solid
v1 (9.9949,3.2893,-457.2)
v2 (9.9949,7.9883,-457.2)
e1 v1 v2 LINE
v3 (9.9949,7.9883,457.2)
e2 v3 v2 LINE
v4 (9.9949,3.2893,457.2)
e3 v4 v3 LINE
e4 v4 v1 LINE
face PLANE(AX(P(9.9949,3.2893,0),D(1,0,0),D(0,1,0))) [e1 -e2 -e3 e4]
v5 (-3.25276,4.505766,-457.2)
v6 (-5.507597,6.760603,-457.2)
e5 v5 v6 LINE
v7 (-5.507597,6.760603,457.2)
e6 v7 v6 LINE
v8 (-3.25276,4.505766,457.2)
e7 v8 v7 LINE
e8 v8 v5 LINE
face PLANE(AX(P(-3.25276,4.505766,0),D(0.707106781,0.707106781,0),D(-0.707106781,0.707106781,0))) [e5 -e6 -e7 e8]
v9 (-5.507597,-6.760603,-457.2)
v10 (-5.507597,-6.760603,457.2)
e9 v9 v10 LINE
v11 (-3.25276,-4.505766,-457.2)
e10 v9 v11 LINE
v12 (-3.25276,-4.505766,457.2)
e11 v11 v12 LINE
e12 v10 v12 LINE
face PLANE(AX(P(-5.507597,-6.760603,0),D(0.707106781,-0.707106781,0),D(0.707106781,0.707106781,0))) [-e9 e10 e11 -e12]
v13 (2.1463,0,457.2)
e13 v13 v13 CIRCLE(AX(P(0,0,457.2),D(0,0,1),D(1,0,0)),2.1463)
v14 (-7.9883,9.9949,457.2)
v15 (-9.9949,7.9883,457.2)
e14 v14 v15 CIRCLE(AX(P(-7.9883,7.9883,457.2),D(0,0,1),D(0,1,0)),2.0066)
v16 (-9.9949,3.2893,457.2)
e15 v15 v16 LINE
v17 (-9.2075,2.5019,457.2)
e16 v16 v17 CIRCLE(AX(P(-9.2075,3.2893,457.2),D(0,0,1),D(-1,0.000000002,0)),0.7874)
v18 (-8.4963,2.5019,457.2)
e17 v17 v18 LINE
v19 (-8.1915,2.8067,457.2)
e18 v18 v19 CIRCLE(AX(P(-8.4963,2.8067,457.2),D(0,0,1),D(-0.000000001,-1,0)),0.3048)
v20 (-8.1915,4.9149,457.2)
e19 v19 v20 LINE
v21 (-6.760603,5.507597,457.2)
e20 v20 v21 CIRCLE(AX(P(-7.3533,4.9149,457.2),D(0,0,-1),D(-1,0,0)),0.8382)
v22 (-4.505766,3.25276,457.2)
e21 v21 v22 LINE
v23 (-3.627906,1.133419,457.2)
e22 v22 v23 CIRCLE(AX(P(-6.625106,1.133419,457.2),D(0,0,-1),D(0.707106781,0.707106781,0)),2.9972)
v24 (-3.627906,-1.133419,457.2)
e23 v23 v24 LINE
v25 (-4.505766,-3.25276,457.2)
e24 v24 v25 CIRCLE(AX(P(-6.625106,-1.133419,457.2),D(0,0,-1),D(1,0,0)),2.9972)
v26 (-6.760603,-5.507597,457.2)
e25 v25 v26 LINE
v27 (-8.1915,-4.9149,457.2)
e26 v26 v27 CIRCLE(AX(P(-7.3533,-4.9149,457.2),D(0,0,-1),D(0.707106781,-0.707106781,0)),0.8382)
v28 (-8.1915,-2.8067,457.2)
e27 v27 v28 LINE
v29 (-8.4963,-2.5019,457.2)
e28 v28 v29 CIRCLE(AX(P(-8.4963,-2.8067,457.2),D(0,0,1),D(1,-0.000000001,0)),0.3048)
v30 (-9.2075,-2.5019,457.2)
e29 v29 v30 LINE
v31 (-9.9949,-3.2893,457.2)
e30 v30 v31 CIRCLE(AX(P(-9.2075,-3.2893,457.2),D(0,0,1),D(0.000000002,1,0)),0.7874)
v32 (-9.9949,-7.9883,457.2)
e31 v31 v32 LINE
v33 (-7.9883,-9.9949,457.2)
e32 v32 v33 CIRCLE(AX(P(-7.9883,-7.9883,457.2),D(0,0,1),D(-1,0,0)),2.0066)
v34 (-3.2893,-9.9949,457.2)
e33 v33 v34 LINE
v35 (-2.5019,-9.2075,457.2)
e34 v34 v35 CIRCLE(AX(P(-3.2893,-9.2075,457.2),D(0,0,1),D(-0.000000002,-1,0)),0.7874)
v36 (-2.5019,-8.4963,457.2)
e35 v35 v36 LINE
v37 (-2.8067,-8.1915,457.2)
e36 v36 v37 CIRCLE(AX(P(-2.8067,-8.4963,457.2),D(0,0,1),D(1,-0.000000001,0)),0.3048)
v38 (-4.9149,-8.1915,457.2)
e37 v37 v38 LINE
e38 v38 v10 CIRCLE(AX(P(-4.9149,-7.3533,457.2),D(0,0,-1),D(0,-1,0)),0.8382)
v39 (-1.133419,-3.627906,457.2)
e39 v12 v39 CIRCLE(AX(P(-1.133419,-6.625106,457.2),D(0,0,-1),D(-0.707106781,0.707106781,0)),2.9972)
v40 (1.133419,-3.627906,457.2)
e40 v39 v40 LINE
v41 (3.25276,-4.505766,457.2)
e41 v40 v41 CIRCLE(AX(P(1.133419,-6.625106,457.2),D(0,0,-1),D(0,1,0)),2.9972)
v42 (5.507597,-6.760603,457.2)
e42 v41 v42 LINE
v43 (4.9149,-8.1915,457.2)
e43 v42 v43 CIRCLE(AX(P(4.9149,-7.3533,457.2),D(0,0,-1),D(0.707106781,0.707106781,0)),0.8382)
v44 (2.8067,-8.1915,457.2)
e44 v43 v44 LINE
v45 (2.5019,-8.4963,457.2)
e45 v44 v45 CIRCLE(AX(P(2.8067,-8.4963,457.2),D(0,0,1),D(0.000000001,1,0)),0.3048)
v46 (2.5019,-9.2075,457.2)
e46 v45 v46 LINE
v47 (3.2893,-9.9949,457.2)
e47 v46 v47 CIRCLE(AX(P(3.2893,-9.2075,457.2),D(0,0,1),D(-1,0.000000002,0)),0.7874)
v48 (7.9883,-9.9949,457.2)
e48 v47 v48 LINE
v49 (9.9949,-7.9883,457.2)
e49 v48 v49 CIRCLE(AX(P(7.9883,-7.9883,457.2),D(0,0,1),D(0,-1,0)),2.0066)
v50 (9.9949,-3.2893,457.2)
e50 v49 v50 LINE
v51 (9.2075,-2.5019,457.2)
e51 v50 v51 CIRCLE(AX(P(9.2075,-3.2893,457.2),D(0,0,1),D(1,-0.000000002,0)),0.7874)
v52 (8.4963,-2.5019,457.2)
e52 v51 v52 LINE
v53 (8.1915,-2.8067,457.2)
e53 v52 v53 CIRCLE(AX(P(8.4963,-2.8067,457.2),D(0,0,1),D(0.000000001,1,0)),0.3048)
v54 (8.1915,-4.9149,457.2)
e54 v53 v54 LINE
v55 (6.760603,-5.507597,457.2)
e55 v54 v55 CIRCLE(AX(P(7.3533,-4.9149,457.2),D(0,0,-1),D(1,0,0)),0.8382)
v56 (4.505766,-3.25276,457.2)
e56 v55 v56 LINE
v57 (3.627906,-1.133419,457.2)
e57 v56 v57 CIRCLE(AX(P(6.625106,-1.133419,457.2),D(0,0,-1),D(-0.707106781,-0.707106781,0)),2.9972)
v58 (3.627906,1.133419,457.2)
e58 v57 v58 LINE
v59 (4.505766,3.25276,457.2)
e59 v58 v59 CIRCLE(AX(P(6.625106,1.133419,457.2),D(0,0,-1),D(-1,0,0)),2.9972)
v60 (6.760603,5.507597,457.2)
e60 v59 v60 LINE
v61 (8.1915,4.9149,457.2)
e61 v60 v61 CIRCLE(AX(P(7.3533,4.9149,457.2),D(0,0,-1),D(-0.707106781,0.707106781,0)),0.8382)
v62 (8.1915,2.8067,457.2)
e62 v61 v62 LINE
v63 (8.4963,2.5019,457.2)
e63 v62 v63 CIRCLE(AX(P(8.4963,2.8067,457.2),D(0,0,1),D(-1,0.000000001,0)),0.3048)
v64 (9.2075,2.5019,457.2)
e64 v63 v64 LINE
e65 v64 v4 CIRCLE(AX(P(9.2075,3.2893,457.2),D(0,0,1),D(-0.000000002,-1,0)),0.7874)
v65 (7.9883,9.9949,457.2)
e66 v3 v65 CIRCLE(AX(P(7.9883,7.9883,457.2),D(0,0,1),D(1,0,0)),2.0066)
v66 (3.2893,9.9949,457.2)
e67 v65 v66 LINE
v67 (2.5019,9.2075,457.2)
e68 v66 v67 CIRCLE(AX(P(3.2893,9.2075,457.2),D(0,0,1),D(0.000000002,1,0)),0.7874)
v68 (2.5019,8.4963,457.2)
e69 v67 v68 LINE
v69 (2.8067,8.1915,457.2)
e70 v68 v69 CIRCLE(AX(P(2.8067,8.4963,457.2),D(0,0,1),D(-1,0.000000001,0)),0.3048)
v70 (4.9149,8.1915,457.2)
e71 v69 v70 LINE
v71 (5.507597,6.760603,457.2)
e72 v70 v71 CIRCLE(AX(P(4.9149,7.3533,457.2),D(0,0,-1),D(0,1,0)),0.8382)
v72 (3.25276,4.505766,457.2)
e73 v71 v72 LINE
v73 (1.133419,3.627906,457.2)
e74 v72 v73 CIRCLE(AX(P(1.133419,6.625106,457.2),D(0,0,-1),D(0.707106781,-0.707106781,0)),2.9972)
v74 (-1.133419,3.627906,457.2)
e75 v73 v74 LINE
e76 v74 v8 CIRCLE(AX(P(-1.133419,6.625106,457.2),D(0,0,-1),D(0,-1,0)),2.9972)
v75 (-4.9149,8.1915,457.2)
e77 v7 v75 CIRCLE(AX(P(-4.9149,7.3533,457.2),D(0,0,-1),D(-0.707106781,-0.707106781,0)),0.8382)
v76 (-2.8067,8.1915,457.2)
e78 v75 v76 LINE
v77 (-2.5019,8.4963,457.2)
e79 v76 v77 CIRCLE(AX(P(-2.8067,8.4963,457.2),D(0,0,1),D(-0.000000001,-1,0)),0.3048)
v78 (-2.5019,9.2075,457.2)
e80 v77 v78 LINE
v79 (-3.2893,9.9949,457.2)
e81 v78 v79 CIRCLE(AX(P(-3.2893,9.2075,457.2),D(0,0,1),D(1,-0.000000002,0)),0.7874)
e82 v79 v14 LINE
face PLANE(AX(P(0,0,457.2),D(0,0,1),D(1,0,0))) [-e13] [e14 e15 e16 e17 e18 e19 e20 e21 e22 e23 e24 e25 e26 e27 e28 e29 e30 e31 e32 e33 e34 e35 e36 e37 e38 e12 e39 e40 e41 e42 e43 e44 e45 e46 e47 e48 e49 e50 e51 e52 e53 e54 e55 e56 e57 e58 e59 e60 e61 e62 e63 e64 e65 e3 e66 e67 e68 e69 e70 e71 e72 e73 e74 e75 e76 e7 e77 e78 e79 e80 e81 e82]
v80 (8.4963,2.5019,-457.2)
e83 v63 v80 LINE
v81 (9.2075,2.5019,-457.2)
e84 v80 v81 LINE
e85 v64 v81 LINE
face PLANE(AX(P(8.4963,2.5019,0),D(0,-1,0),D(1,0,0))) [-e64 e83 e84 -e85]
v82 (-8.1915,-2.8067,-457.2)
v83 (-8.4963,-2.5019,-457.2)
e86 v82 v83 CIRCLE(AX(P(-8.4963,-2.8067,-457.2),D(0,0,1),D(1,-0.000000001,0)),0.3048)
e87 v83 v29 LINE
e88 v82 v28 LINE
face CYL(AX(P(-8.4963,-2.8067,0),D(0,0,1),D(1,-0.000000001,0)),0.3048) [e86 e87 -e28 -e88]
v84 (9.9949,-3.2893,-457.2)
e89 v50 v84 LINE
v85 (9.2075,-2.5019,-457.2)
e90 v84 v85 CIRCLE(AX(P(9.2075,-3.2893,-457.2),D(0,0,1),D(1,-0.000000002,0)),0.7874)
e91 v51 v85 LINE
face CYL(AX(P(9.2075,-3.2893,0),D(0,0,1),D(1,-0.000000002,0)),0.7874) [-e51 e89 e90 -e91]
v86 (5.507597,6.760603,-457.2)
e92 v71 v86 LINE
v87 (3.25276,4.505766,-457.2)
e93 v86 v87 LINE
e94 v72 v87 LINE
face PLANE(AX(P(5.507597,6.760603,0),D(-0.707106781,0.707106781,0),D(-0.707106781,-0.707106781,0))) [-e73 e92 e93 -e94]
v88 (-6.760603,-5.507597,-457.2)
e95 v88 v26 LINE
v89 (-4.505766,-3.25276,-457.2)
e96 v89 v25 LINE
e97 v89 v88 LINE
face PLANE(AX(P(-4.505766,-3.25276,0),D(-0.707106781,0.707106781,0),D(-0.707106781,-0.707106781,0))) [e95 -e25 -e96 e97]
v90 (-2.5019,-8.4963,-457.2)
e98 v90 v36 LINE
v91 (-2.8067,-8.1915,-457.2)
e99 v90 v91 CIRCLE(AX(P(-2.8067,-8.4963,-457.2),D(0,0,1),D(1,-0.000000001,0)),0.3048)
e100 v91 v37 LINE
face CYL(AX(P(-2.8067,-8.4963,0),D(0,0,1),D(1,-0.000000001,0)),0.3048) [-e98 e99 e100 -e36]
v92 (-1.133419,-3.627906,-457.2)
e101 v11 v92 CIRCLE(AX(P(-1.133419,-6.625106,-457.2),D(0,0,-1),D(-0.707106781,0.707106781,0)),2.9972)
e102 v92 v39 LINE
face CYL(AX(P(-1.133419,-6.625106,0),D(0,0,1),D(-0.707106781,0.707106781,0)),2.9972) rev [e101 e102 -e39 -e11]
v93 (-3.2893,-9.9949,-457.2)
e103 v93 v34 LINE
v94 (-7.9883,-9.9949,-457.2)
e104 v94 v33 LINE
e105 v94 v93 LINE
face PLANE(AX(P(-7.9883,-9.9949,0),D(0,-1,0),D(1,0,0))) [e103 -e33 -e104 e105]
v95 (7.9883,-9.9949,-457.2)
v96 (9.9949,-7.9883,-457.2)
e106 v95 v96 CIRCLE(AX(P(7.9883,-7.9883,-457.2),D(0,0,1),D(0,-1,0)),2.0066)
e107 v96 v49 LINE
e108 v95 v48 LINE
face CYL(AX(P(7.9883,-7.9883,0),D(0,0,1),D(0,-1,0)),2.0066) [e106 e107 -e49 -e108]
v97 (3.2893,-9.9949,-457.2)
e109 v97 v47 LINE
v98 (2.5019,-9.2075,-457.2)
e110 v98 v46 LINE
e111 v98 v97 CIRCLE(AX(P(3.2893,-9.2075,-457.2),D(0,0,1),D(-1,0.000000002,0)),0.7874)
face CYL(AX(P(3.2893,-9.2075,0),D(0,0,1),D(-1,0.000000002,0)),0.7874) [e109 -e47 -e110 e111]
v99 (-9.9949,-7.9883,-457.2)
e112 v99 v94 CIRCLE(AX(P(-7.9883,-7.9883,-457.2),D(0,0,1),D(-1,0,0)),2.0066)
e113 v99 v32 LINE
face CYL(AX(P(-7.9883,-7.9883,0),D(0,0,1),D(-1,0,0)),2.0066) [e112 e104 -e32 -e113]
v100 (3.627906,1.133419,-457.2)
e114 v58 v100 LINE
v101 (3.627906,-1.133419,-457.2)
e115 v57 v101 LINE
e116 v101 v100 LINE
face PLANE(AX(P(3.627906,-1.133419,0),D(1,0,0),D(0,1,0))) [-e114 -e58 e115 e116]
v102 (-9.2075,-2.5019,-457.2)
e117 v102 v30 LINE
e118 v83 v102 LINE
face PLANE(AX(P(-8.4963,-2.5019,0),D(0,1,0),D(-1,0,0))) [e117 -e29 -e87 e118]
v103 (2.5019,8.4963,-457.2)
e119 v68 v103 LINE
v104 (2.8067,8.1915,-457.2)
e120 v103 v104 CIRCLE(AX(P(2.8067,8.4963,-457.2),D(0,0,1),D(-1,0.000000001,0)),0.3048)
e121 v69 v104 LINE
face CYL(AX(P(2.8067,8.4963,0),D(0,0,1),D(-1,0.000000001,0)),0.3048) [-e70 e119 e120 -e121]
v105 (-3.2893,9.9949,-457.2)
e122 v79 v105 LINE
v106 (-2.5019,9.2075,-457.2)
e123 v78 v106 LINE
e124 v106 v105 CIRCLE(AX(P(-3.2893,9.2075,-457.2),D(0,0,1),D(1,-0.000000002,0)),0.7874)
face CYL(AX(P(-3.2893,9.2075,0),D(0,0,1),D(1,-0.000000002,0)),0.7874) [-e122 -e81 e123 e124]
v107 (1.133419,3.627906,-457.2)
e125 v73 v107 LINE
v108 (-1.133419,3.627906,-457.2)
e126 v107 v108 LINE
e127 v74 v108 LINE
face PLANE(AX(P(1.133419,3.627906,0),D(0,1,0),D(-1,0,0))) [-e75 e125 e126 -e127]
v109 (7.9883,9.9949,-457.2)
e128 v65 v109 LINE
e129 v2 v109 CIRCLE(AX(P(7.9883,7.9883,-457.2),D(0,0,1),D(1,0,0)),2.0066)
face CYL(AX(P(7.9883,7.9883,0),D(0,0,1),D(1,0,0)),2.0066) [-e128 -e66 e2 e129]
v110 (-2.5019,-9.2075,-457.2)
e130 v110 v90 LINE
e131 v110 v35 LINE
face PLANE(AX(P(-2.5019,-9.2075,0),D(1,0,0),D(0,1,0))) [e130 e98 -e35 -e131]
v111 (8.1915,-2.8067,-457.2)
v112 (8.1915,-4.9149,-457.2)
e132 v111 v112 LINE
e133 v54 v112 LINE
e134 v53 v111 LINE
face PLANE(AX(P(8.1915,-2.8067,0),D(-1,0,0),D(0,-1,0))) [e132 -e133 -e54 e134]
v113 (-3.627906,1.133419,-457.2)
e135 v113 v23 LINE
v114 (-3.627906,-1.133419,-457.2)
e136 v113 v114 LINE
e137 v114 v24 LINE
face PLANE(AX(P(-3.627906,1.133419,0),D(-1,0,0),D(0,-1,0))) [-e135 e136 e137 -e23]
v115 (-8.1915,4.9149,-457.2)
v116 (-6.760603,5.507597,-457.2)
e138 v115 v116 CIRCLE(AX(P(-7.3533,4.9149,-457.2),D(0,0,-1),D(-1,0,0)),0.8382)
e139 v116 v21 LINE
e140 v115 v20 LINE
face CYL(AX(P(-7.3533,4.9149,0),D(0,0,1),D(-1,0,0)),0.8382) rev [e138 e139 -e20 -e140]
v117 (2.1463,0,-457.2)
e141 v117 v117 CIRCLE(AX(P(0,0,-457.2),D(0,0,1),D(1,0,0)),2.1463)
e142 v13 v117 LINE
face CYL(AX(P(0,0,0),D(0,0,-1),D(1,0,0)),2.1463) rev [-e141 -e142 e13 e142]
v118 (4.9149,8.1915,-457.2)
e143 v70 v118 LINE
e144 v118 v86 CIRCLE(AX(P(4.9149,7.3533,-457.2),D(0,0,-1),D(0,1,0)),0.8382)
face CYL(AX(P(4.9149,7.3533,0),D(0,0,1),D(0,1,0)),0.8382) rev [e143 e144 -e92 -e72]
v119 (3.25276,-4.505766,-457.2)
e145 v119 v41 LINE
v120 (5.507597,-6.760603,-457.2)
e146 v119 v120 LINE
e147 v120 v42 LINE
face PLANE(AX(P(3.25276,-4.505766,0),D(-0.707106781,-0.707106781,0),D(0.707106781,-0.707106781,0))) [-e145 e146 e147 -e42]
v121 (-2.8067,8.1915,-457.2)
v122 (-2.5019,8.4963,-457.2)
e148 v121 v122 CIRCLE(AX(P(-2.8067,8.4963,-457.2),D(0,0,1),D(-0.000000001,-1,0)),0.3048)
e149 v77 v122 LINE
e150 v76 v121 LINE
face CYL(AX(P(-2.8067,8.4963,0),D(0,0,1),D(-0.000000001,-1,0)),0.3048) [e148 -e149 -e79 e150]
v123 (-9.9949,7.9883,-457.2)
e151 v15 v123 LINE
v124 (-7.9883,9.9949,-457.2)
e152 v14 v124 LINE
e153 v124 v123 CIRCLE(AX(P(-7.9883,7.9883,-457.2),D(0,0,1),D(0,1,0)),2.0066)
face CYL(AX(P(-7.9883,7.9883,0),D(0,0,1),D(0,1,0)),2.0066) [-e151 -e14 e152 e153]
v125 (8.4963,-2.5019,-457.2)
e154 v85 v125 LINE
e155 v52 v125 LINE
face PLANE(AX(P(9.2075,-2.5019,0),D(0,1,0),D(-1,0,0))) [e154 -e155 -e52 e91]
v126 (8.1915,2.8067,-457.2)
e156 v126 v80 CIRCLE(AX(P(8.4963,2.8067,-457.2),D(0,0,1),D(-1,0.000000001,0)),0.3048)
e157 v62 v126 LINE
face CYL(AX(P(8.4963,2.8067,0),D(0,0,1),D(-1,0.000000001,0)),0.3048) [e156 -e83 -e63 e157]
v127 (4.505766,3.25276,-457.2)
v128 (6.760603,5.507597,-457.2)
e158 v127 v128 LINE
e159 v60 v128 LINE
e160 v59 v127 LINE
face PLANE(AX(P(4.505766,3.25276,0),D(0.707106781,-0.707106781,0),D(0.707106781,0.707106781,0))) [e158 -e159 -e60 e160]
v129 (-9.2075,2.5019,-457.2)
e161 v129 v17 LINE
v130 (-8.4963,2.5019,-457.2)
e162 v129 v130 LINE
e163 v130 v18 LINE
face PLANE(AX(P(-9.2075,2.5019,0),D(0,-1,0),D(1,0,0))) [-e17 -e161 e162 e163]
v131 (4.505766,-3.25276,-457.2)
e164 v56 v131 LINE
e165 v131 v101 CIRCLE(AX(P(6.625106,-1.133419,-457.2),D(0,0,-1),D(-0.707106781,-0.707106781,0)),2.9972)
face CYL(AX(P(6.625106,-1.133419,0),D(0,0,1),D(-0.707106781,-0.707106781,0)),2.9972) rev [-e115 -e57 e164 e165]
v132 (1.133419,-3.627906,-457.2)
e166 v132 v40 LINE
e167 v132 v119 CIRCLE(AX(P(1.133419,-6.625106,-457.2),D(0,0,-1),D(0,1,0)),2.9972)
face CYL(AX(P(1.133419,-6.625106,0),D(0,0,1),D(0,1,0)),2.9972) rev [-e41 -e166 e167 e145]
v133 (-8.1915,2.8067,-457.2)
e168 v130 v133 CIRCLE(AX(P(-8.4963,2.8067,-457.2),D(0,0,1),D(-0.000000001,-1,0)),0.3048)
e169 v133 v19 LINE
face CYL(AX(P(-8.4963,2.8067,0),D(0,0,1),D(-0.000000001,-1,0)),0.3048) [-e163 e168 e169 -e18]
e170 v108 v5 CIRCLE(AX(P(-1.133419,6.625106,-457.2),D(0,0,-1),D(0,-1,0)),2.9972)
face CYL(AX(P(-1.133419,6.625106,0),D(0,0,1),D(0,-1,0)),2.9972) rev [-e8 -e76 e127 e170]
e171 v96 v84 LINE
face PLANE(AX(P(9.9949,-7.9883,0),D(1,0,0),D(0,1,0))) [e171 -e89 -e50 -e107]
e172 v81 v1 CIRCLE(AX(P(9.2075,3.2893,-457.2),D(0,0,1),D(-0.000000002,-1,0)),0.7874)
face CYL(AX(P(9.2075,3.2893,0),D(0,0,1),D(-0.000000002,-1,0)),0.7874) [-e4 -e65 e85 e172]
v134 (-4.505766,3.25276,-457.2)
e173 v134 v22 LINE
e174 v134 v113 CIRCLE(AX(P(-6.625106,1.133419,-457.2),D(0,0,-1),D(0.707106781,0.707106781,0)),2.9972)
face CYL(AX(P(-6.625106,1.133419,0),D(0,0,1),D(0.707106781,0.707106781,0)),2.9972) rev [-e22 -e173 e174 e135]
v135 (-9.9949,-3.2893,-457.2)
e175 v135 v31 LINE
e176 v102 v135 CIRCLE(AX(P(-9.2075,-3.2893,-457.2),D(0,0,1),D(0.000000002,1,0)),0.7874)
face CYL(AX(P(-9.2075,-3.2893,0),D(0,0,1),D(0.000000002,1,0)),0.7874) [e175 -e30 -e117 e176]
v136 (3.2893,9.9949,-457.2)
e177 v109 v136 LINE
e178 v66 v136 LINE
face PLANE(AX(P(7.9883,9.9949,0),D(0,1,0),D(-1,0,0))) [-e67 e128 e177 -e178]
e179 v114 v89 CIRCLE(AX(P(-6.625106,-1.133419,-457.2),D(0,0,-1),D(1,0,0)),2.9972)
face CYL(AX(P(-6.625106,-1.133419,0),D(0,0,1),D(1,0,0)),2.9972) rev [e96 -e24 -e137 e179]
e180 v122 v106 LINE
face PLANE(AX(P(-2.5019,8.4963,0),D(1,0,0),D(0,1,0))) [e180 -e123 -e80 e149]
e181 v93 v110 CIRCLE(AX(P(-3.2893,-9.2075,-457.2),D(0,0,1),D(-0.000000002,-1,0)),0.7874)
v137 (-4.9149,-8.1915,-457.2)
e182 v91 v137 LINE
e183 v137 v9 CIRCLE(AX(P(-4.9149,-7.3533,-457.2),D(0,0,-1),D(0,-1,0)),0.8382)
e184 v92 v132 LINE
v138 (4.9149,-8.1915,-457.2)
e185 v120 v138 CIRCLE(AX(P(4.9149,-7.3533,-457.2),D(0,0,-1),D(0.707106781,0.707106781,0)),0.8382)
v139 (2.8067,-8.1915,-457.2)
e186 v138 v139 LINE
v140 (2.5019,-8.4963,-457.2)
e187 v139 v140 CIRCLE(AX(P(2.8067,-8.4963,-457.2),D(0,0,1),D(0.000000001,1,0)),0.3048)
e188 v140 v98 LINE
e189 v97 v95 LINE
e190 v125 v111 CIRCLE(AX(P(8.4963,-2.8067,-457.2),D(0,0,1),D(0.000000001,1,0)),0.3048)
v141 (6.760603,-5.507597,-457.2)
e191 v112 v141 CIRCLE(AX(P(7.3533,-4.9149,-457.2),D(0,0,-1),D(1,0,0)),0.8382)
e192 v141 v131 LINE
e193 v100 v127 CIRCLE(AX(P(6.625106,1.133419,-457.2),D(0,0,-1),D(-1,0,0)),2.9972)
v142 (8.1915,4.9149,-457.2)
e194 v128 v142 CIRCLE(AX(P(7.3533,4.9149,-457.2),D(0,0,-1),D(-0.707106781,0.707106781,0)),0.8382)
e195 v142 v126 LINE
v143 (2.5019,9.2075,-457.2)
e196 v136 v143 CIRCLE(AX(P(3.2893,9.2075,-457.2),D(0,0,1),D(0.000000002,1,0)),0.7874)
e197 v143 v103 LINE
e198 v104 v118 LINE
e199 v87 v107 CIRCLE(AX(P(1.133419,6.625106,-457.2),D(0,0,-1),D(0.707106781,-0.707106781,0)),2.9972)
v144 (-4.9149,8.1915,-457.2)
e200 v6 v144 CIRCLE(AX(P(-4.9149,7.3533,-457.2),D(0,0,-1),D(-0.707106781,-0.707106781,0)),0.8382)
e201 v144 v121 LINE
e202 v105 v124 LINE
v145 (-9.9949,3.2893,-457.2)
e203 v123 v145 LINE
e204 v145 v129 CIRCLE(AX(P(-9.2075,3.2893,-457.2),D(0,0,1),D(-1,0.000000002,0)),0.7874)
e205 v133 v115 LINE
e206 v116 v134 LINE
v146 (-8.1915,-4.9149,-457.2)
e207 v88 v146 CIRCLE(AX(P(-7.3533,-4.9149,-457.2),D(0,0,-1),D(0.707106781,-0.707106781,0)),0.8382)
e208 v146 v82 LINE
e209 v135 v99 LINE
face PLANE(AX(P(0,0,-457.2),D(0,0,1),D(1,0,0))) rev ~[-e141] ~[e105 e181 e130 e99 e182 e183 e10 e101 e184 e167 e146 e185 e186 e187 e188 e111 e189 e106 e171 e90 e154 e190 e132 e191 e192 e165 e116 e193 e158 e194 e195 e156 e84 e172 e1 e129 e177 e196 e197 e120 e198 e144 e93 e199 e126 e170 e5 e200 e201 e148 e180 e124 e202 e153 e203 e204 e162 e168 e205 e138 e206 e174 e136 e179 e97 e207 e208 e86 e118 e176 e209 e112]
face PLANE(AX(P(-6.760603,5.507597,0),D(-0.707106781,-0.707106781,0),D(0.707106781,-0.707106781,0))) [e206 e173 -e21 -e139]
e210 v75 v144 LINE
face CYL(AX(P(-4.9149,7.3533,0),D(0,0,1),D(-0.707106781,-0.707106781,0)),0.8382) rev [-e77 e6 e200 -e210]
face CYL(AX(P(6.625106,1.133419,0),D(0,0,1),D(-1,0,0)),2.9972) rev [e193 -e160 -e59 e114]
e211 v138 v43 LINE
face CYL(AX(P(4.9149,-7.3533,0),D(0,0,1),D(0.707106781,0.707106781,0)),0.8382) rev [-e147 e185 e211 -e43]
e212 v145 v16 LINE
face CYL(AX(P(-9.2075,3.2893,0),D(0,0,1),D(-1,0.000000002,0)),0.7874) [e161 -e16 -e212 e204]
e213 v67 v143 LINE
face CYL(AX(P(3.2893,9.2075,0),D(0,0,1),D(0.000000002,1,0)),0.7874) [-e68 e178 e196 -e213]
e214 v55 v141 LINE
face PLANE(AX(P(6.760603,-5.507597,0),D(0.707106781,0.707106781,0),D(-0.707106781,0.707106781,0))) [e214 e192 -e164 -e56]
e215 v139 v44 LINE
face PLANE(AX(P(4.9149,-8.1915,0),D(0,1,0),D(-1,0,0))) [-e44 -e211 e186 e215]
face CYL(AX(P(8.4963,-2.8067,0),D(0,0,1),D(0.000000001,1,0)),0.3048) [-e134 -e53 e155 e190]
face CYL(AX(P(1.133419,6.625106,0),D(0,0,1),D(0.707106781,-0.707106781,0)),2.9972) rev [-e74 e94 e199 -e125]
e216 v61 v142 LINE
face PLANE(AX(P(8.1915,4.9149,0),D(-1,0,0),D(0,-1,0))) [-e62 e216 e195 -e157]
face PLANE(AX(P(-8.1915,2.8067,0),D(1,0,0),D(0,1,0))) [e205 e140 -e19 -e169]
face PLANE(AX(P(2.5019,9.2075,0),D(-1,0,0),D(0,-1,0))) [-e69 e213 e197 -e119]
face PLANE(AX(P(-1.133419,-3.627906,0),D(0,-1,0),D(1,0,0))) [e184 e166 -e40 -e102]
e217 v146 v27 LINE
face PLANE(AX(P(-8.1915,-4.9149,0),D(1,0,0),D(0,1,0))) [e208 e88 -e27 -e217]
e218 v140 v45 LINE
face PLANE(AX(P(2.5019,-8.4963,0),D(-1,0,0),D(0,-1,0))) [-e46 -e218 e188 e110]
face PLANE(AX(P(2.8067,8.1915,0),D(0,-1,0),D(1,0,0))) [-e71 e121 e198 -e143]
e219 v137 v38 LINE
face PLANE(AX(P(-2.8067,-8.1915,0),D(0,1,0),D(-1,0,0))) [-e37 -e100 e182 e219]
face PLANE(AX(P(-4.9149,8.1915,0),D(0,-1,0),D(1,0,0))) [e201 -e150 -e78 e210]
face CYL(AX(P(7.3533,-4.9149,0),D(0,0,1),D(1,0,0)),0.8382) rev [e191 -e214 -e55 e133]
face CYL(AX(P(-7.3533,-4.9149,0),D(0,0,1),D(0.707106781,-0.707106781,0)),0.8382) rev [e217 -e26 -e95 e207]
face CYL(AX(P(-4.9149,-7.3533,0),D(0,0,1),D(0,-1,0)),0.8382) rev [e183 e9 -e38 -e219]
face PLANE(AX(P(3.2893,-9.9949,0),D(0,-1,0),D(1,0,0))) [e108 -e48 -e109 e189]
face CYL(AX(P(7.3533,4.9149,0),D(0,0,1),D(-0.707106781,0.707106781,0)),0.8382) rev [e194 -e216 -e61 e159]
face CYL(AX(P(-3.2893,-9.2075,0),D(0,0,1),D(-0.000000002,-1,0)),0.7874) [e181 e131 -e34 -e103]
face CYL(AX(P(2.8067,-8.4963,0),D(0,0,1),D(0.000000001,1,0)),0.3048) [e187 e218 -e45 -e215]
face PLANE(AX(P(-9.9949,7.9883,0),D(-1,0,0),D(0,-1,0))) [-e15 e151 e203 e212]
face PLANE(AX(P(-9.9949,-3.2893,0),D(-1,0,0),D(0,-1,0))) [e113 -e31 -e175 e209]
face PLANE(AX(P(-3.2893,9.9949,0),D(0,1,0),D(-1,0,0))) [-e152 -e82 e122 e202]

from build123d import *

# Parameters (mm, degrees)
SKETCH1_R           = 2.1463
BOSS_EXTRUDE1_DEPTH = 457.2


with BuildPart() as part:
    # Sketch1 → Boss-Extrude1 (new, symmetric)
    with BuildSketch(Plane.XY):
        with BuildLine():
            Line((-9.9949, 7.9883), (-9.9949, 3.2893))
            ThreePointArc((-9.9949, 3.2893), (-9.76427588, 2.73252412), (-9.2075, 2.5019))
            Line((-9.2075, 2.5019), (-8.4963, 2.5019))
            ThreePointArc((-8.4963, 2.5019), (-8.280773853, 2.591173853), (-8.1915, 2.8067))
            Line((-8.1915, 2.8067), (-8.1915, 4.9149))
            ThreePointArc((-8.1915, 4.9149), (-7.674065253, 5.689295824), (-6.760603096, 5.507596904))
            Line((-6.760603096, 5.507596904), (-4.505765747, 3.252759555))
            ThreePointArc((-4.505765747, 3.252759555), (-3.856054457, 2.280397894), (-3.627906192, 1.133419111))
            Line((-3.627906192, 1.133419111), (-3.627906192, -1.133419111))
            ThreePointArc((-3.627906192, -1.133419111), (-3.856054457, -2.280397894), (-4.505765747, -3.252759555))
            Line((-4.505765747, -3.252759555), (-6.760603096, -5.507596904))
            ThreePointArc((-6.760603096, -5.507596904), (-7.674065253, -5.689295824), (-8.1915, -4.9149))
            Line((-8.1915, -4.9149), (-8.1915, -2.8067))
            ThreePointArc((-8.1915, -2.8067), (-8.280773853, -2.591173853), (-8.4963, -2.5019))
            Line((-8.4963, -2.5019), (-9.2075, -2.5019))
            ThreePointArc((-9.2075, -2.5019), (-9.76427588, -2.73252412), (-9.9949, -3.2893))
            Line((-9.9949, -3.2893), (-9.9949, -7.9883))
            ThreePointArc((-9.9949, -7.9883), (-9.407180467, -9.407180467), (-7.9883, -9.9949))
            Line((-7.9883, -9.9949), (-3.2893, -9.9949))
            ThreePointArc((-3.2893, -9.9949), (-2.73252412, -9.76427588), (-2.5019, -9.2075))
            Line((-2.5019, -9.2075), (-2.5019, -8.4963))
            ThreePointArc((-2.5019, -8.4963), (-2.591173853, -8.280773853), (-2.8067, -8.1915))
            Line((-2.8067, -8.1915), (-4.9149, -8.1915))
            ThreePointArc((-4.9149, -8.1915), (-5.689295824, -7.674065253), (-5.507596904, -6.760603096))
            Line((-5.507596904, -6.760603096), (-3.252759555, -4.505765747))
            ThreePointArc((-3.252759555, -4.505765747), (-2.280397894, -3.856054457), (-1.133419111, -3.627906192))
            Line((-1.133419111, -3.627906192), (1.133419111, -3.627906192))
            ThreePointArc((1.133419111, -3.627906192), (2.280397894, -3.856054457), (3.252759555, -4.505765747))
            Line((3.252759555, -4.505765747), (5.507596904, -6.760603096))
            ThreePointArc((5.507596904, -6.760603096), (5.689295824, -7.674065253), (4.9149, -8.1915))
            Line((4.9149, -8.1915), (2.8067, -8.1915))
            ThreePointArc((2.8067, -8.1915), (2.591173853, -8.280773853), (2.5019, -8.4963))
            Line((2.5019, -8.4963), (2.5019, -9.2075))
            ThreePointArc((2.5019, -9.2075), (2.73252412, -9.76427588), (3.2893, -9.9949))
            Line((3.2893, -9.9949), (7.9883, -9.9949))
            ThreePointArc((7.9883, -9.9949), (9.407180467, -9.407180467), (9.9949, -7.9883))
            Line((9.9949, -7.9883), (9.9949, -3.2893))
            ThreePointArc((9.9949, -3.2893), (9.76427588, -2.73252412), (9.2075, -2.5019))
            Line((9.2075, -2.5019), (8.4963, -2.5019))
            ThreePointArc((8.4963, -2.5019), (8.280773853, -2.591173853), (8.1915, -2.8067))
            Line((8.1915, -2.8067), (8.1915, -4.9149))
            ThreePointArc((8.1915, -4.9149), (7.674065253, -5.689295824), (6.760603096, -5.507596904))
            Line((6.760603096, -5.507596904), (4.505765747, -3.252759555))
            ThreePointArc((4.505765747, -3.252759555), (3.856054457, -2.280397894), (3.627906192, -1.133419111))
            Line((3.627906192, -1.133419111), (3.627906192, 1.133419111))
            ThreePointArc((3.627906192, 1.133419111), (3.856054457, 2.280397894), (4.505765747, 3.252759555))
            Line((4.505765747, 3.252759555), (6.760603096, 5.507596904))
            ThreePointArc((6.760603096, 5.507596904), (7.674065253, 5.689295824), (8.1915, 4.9149))
            Line((8.1915, 4.9149), (8.1915, 2.8067))
            ThreePointArc((8.1915, 2.8067), (8.280773853, 2.591173853), (8.4963, 2.5019))
            Line((8.4963, 2.5019), (9.2075, 2.5019))
            ThreePointArc((9.2075, 2.5019), (9.76427588, 2.73252412), (9.9949, 3.2893))
            Line((9.9949, 3.2893), (9.9949, 7.9883))
            ThreePointArc((9.9949, 7.9883), (9.407180467, 9.407180467), (7.9883, 9.9949))
            Line((7.9883, 9.9949), (3.2893, 9.9949))
            ThreePointArc((3.2893, 9.9949), (2.73252412, 9.76427588), (2.5019, 9.2075))
            Line((2.5019, 9.2075), (2.5019, 8.4963))
            ThreePointArc((2.5019, 8.4963), (2.591173853, 8.280773853), (2.8067, 8.1915))
            Line((2.8067, 8.1915), (4.9149, 8.1915))
            ThreePointArc((4.9149, 8.1915), (5.689295824, 7.674065253), (5.507596904, 6.760603096))
            Line((5.507596904, 6.760603096), (3.252759555, 4.505765747))
            ThreePointArc((3.252759555, 4.505765747), (2.280397894, 3.856054457), (1.133419111, 3.627906192))
            Line((1.133419111, 3.627906192), (-1.133419111, 3.627906192))
            ThreePointArc((-1.133419111, 3.627906192), (-2.280397894, 3.856054457), (-3.252759555, 4.505765747))
            Line((-3.252759555, 4.505765747), (-5.507596904, 6.760603096))
            ThreePointArc((-5.507596904, 6.760603096), (-5.689295824, 7.674065253), (-4.9149, 8.1915))
            Line((-4.9149, 8.1915), (-2.8067, 8.1915))
            ThreePointArc((-2.8067, 8.1915), (-2.591173853, 8.280773853), (-2.5019, 8.4963))
            Line((-2.5019, 8.4963), (-2.5019, 9.2075))
            ThreePointArc((-2.5019, 9.2075), (-2.73252412, 9.76427588), (-3.2893, 9.9949))
            Line((-3.2893, 9.9949), (-7.9883, 9.9949))
            ThreePointArc((-7.9883, 9.9949), (-9.407180467, 9.407180467), (-9.9949, 7.9883))
        make_face()
        Circle(SKETCH1_R, mode=Mode.SUBTRACT)
    extrude(amount=BOSS_EXTRUDE1_DEPTH, both=True)


solid = part.part
